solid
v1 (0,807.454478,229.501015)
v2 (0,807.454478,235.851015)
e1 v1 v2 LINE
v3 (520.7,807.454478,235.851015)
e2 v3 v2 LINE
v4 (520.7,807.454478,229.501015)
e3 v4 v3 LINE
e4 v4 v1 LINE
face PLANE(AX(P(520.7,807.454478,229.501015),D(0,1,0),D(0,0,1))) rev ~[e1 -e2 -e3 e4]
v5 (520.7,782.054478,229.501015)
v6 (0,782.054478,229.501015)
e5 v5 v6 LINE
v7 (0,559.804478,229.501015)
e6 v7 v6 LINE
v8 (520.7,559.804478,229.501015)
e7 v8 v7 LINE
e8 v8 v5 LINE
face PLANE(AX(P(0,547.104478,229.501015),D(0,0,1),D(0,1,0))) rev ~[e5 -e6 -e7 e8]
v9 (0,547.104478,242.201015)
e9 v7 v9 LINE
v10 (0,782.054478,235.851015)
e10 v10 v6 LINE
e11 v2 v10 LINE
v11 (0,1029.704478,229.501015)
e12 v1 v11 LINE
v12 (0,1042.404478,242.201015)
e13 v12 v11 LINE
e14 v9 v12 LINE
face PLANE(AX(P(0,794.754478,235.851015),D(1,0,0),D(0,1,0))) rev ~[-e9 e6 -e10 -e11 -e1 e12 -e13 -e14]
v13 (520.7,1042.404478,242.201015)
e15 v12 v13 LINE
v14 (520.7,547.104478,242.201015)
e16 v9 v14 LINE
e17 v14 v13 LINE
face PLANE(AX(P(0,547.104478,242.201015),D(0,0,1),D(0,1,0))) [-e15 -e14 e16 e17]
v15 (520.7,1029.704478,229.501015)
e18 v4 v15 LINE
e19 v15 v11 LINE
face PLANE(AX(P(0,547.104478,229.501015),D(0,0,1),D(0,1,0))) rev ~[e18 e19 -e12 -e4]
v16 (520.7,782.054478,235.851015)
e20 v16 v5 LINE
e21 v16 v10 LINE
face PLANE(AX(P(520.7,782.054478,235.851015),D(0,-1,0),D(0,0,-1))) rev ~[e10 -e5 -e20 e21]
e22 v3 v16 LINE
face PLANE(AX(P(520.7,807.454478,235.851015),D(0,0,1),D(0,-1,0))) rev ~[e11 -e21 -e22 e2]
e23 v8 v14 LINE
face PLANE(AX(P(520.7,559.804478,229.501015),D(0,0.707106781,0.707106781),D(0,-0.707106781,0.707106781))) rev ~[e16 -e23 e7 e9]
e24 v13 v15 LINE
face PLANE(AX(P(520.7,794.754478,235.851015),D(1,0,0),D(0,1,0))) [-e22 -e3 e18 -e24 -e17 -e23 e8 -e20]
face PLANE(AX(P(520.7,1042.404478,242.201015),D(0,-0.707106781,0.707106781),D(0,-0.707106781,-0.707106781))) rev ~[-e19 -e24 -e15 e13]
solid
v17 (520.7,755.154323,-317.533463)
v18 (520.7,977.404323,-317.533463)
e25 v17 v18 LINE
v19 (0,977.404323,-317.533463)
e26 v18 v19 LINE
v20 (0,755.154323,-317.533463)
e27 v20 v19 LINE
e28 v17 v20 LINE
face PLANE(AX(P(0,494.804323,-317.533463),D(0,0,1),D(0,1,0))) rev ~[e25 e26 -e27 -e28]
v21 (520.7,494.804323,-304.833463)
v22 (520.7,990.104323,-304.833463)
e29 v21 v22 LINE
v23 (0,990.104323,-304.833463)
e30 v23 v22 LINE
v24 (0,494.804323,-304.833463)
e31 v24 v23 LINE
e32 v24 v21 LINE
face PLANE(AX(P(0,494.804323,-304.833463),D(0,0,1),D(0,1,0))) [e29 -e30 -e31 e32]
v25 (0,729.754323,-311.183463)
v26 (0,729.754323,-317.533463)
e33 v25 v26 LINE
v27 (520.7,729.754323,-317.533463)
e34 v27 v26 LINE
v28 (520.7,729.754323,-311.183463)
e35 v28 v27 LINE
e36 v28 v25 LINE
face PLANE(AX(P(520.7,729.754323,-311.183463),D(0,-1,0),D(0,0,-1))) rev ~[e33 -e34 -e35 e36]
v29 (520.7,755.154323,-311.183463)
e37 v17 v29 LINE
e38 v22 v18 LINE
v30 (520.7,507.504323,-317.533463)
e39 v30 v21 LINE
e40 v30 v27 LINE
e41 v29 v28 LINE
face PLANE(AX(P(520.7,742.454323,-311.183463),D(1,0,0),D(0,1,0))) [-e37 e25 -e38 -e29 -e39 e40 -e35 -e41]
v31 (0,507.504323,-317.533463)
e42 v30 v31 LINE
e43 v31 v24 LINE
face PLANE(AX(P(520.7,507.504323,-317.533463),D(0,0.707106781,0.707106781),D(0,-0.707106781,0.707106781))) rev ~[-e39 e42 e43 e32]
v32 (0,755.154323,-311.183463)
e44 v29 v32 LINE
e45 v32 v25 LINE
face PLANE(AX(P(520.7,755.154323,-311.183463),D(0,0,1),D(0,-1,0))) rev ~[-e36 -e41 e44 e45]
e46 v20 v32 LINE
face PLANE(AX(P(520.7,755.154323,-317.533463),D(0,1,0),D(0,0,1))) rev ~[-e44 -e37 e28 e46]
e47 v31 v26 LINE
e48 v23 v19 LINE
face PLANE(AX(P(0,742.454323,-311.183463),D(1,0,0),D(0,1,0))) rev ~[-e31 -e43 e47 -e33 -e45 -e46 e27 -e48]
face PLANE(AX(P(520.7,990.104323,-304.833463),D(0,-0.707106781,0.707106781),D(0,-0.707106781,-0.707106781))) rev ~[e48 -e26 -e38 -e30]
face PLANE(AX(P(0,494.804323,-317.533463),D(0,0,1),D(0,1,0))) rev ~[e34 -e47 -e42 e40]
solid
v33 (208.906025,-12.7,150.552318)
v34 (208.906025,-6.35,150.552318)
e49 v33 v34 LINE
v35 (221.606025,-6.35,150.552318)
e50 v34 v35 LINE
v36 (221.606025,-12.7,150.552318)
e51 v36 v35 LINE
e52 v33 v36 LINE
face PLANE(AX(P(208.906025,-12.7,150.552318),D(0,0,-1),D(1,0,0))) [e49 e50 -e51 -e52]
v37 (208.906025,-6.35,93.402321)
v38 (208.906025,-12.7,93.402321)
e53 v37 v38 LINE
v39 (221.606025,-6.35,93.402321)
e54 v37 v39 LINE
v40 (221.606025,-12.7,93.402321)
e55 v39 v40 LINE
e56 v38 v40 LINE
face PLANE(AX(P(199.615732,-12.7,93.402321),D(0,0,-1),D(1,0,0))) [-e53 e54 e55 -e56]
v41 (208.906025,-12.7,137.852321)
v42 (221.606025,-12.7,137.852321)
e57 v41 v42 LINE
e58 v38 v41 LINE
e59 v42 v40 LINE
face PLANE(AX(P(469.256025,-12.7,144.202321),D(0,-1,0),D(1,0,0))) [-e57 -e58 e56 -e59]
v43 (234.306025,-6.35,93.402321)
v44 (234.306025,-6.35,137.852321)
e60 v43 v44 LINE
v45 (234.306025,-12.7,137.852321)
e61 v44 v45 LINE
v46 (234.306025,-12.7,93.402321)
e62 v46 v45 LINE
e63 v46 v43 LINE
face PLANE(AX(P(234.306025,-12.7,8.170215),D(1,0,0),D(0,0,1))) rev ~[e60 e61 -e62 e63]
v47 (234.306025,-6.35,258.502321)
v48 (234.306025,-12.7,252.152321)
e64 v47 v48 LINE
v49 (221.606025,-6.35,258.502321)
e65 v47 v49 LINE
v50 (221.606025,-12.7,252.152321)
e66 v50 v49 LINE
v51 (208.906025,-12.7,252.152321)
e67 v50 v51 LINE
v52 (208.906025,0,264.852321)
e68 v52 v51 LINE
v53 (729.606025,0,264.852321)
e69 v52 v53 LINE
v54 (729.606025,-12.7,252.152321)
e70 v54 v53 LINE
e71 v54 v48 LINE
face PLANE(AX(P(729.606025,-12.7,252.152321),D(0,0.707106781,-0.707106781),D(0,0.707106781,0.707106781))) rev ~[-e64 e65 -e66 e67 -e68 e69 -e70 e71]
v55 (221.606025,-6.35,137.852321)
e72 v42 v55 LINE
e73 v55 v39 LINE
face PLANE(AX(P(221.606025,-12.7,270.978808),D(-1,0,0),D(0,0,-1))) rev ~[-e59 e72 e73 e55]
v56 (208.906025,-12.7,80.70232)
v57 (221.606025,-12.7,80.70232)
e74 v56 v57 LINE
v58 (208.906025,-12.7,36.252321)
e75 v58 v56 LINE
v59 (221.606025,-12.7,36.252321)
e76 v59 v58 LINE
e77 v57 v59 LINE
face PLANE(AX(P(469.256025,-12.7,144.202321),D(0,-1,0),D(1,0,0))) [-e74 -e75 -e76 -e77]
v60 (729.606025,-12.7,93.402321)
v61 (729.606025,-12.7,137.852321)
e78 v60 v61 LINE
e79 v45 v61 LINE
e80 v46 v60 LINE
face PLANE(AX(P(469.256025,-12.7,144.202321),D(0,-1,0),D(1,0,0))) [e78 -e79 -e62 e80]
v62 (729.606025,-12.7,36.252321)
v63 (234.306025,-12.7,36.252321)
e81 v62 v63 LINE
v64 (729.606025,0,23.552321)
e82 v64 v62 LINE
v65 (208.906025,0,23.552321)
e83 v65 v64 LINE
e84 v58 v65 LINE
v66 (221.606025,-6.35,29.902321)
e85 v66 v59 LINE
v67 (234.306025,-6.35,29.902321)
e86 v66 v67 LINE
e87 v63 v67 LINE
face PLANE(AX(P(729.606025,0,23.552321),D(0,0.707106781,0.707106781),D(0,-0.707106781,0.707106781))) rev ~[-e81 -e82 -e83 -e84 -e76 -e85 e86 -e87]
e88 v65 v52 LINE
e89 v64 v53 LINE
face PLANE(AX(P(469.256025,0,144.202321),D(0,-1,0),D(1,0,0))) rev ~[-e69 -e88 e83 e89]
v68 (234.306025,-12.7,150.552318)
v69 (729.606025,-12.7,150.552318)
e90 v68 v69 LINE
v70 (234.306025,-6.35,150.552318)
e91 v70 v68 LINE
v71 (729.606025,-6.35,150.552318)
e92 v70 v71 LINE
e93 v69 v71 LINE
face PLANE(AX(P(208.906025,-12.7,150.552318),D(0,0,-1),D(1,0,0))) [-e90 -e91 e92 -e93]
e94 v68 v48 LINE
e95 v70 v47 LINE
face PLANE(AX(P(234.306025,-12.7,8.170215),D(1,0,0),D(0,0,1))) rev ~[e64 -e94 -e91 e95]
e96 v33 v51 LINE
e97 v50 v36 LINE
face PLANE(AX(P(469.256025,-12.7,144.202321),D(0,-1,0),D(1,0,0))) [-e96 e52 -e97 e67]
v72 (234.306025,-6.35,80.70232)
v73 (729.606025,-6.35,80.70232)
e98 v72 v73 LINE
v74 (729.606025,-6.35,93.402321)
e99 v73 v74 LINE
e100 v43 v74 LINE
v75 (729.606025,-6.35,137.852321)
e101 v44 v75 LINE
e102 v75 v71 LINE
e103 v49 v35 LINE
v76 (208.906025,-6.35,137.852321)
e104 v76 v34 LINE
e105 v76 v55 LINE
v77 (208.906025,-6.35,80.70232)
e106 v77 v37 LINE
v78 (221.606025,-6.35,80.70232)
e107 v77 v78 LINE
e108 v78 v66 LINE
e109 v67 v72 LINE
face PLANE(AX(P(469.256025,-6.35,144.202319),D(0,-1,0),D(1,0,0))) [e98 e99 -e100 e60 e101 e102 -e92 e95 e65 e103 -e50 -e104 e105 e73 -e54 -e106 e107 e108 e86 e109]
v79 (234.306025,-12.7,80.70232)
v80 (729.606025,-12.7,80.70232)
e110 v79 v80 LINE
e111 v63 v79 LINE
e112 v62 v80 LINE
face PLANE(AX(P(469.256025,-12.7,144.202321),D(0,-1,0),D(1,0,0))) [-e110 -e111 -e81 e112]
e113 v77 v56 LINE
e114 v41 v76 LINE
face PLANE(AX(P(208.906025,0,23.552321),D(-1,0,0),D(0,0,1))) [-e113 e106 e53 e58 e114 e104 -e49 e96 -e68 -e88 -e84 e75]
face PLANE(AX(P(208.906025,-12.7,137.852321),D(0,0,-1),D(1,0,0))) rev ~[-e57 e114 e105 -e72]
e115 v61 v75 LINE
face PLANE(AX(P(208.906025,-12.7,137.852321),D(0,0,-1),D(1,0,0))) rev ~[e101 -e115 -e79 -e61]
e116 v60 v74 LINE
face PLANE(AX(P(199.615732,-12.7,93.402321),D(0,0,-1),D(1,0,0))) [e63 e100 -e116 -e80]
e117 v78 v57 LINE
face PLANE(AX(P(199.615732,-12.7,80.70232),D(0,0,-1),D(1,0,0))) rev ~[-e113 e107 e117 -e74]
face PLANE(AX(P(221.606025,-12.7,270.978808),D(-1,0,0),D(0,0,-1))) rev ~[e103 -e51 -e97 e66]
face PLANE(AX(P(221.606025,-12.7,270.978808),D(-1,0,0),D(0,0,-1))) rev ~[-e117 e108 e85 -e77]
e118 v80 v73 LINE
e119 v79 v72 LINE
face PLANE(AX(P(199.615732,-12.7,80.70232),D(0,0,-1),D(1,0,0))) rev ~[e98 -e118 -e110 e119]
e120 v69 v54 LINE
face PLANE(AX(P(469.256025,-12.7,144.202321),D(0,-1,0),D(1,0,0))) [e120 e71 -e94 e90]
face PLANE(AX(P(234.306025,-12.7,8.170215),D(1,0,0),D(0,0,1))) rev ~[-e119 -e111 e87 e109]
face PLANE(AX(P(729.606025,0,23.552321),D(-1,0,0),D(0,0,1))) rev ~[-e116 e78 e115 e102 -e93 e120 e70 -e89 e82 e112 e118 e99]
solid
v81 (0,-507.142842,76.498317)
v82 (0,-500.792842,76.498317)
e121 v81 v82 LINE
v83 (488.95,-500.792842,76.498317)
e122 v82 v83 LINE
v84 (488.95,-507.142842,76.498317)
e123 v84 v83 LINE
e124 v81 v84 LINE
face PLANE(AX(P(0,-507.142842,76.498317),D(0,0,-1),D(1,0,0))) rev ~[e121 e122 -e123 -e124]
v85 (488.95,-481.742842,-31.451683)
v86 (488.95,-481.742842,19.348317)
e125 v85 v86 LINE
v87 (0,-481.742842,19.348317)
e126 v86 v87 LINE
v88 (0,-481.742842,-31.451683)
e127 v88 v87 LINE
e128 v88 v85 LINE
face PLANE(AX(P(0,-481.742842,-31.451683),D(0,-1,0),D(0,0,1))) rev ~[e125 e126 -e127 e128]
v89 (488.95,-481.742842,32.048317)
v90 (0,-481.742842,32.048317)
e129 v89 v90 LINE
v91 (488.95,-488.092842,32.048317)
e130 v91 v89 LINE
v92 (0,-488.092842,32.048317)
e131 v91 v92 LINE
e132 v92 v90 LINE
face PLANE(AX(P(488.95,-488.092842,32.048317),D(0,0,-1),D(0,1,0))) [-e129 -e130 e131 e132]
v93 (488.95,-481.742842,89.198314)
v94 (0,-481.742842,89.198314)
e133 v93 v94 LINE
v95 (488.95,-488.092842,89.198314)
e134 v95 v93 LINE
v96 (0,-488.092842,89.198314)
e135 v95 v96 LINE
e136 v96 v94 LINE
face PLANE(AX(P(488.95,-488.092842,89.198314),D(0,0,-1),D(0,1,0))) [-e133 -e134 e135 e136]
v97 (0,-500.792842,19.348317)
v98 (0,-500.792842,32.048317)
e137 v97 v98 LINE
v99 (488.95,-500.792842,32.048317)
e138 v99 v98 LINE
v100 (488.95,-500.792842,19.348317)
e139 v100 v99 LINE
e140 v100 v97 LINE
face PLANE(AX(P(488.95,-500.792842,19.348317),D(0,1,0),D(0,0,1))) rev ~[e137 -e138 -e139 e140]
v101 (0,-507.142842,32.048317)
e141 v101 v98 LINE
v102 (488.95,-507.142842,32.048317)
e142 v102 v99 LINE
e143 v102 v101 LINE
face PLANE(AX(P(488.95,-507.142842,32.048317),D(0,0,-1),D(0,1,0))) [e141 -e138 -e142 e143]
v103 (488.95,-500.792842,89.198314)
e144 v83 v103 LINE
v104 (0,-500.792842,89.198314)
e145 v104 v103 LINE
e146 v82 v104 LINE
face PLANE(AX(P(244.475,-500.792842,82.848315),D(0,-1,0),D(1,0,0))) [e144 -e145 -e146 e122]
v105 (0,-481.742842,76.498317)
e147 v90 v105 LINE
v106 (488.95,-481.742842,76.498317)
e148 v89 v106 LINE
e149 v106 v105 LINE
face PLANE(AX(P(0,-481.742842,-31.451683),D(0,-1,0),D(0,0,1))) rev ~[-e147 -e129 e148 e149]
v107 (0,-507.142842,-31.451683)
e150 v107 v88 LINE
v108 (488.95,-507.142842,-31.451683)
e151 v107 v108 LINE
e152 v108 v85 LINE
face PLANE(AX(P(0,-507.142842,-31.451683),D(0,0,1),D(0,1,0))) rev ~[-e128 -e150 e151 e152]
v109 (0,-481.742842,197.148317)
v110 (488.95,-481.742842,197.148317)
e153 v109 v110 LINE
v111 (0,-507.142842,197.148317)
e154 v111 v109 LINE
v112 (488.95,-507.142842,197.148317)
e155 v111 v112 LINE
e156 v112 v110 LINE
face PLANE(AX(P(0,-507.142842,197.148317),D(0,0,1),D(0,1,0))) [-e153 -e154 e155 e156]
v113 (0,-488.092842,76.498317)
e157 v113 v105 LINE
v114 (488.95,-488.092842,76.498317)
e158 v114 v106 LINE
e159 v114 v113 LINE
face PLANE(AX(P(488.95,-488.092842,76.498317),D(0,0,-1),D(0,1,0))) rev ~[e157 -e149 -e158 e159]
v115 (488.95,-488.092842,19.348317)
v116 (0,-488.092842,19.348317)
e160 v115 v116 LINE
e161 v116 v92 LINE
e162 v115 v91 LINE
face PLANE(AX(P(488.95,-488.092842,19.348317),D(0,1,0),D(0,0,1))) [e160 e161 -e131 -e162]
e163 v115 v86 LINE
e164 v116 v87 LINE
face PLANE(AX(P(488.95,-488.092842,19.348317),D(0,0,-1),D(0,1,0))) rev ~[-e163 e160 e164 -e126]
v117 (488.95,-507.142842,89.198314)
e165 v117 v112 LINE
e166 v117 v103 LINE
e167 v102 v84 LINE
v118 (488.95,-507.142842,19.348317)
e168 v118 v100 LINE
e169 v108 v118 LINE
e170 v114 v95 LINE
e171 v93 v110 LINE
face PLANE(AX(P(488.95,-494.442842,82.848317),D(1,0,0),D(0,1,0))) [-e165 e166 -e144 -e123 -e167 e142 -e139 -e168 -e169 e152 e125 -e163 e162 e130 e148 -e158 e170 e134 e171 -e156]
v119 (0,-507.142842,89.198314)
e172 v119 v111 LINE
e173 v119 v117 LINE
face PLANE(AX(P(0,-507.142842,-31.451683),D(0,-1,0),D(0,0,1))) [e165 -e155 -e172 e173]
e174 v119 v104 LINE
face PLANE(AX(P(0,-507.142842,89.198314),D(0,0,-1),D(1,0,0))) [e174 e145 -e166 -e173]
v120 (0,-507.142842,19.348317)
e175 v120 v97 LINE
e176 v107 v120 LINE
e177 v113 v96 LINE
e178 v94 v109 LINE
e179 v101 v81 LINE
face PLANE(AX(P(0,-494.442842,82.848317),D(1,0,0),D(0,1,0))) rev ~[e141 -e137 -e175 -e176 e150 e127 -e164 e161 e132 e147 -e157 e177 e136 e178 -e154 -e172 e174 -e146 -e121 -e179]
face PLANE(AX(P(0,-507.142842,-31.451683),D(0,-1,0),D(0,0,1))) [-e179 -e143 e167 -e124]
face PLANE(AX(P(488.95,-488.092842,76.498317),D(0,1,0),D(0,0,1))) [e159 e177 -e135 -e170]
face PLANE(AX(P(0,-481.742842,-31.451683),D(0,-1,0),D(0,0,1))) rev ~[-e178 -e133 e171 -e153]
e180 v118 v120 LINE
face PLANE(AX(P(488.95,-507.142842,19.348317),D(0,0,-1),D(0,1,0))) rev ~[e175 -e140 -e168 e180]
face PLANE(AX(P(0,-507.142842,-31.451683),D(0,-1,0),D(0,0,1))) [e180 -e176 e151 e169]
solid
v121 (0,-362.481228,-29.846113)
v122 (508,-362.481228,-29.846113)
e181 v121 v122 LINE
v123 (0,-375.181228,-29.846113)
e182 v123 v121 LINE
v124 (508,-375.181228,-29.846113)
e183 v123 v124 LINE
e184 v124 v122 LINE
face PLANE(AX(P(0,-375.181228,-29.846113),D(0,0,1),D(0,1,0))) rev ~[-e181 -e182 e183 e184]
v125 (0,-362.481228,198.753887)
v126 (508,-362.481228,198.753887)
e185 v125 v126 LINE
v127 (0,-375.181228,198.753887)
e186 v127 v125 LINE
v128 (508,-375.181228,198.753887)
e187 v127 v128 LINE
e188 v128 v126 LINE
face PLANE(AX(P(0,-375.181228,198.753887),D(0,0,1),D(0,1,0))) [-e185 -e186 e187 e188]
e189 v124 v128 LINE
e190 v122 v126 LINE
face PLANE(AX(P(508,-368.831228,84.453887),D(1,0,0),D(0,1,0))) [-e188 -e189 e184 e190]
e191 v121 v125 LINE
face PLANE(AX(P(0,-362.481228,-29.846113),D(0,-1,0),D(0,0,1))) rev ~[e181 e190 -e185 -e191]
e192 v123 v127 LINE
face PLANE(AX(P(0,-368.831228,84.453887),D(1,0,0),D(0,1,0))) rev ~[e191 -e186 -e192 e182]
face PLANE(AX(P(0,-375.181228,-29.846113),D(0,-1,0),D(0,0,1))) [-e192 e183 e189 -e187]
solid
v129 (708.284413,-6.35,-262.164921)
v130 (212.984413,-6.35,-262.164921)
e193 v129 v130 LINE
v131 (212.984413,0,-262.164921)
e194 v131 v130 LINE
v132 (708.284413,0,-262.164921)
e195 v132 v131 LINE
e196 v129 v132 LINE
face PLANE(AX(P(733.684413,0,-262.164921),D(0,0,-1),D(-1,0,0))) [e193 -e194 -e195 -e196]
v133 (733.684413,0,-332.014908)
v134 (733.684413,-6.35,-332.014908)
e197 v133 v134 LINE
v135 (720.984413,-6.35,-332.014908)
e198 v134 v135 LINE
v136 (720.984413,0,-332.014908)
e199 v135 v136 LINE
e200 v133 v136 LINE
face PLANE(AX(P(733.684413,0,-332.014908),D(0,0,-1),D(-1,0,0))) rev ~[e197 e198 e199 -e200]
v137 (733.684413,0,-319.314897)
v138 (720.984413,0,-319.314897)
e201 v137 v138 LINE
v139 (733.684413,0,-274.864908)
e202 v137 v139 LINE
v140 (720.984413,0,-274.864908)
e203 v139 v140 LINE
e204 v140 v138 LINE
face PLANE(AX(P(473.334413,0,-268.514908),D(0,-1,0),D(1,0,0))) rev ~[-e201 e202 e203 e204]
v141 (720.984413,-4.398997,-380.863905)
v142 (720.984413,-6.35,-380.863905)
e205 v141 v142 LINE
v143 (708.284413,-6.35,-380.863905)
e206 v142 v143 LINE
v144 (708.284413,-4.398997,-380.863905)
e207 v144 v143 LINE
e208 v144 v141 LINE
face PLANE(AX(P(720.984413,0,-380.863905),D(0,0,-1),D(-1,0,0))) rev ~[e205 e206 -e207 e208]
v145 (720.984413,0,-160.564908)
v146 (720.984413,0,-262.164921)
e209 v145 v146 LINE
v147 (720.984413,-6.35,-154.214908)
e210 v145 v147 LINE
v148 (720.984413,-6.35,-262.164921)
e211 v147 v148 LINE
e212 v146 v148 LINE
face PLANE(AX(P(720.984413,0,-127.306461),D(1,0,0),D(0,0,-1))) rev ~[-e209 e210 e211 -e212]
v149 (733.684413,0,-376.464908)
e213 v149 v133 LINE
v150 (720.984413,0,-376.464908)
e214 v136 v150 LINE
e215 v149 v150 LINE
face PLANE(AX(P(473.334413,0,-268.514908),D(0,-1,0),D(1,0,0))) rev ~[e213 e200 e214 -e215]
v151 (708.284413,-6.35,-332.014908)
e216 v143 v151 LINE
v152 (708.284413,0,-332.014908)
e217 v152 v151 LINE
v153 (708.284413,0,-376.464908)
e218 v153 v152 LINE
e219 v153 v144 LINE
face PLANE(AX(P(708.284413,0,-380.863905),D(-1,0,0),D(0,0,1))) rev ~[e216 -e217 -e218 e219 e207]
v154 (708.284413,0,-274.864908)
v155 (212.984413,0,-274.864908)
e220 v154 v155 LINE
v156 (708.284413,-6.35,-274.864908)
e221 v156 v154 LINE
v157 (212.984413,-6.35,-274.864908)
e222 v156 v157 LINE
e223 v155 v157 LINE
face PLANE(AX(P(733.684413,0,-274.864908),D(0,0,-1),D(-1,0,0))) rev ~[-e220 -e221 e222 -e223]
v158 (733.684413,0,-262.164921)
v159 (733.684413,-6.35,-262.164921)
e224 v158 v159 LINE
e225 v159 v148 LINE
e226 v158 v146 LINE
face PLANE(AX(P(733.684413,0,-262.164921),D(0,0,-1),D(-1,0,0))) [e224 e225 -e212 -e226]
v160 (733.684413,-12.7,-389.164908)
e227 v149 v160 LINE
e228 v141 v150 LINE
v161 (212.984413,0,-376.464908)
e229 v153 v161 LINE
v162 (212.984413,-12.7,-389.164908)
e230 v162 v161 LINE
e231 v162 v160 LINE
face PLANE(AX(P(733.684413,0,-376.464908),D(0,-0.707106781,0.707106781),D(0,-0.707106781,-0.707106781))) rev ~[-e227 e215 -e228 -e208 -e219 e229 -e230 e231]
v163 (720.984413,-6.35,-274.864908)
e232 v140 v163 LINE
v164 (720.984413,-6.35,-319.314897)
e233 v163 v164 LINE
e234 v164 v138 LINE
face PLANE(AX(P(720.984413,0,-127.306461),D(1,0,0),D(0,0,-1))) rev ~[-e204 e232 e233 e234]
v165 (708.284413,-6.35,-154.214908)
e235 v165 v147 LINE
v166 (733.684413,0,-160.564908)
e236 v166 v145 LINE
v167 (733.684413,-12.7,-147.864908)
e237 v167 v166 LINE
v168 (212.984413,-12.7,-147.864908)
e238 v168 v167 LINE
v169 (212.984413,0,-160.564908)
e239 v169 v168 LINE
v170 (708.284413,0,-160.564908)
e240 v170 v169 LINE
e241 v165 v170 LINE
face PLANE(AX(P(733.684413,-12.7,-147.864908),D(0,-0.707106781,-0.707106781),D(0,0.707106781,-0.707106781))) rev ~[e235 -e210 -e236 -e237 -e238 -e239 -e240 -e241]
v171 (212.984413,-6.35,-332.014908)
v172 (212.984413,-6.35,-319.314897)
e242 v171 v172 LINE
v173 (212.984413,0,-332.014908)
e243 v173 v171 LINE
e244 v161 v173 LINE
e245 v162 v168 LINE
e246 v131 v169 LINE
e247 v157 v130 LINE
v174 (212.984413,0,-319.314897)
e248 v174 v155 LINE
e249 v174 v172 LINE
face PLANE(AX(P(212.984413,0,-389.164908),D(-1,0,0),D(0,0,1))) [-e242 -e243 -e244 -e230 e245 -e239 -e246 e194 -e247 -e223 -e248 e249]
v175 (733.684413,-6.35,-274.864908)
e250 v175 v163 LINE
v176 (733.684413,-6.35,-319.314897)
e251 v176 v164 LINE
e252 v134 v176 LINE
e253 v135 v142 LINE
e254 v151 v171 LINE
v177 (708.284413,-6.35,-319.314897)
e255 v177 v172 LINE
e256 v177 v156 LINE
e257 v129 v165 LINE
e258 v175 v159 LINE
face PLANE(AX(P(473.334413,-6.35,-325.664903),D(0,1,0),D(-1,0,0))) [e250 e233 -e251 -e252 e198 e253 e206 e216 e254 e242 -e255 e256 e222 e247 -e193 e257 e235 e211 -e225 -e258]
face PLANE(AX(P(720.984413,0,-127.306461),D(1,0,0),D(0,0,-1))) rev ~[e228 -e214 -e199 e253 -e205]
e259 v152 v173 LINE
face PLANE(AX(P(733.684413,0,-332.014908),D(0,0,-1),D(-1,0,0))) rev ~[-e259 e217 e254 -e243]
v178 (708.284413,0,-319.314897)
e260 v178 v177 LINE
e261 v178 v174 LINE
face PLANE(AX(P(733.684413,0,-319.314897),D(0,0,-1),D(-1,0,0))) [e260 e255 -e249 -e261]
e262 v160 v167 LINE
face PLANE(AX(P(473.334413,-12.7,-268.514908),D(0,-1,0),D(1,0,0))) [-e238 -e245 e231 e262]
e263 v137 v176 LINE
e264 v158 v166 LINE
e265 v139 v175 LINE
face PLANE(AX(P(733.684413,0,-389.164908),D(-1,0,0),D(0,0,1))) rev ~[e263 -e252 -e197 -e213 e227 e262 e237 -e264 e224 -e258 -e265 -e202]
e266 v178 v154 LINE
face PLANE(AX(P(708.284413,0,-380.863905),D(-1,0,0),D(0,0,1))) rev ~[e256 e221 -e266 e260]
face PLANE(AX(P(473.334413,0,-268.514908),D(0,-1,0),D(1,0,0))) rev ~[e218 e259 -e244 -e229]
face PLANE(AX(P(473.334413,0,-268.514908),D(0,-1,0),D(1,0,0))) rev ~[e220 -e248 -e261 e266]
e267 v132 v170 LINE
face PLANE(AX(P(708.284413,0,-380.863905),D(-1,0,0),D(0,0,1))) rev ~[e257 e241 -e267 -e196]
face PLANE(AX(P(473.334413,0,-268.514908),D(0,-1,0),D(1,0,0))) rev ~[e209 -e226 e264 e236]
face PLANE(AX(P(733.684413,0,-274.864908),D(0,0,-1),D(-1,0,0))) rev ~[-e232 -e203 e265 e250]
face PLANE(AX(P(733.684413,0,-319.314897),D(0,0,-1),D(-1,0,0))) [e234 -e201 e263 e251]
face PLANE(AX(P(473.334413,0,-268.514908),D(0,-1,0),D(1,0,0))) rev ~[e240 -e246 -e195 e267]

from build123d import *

# Parameters (mm, degrees)
F0_W      = 520.7
F0_H      = 241.3
F1_DEPTH  = 12.7
F3_DEPTH  = 520.701
F4_W      = 520.7
F4_H      = 12.6999966025
F5_DEPTH  = 6.35
F7_DEPTH  = 6.35
F8_W      = 520.7
F8_H      = 241.3
F9_DEPTH  = 12.7
F11_DEPTH = 524.7793882141
F12_W     = 520.7
F12_H     = 12.6999874115
F13_DEPTH = 6.35
F15_DEPTH = 6.35
F16_W     = 520.7
F16_H     = 12.7000109196
F17_DEPTH = 6.35
F18_W     = 529.9902928591
F18_H     = 12.7000011563
F19_DEPTH = 6.35
F20_W     = 25.4
F20_H     = 228.6
F21_DEPTH = 488.95
F22_W     = 488.95
F22_H     = 12.6999971449
F23_DEPTH = 6.35
F24_W     = 6.35
F24_H     = 12.6999971449
F25_DEPTH = 488.951
F26_W     = 6.35
F26_H     = 12.7
F27_DEPTH = 488.951
F28_W     = 495.3
F28_H     = 12.7
F29_DEPTH = 520.7
F31_DEPTH = 520.701
F33_DEPTH = 520.701
F34_W     = 495.3
F34_H     = 12.7
F35_DEPTH = 520.7
F37_DEPTH = 520.701
F39_DEPTH = 520.701
F40_W     = 12.7
F40_H     = 228.6
F41_DEPTH = 508


with BuildPart() as f1:
    # F0 (on Front) → F1 (new body)
    with BuildSketch(Plane.XZ):
        with Locations((469.2560246944, 144.2023208976)):
            Rectangle(F0_W, F0_H)
    extrude(amount=F1_DEPTH)

    # F2 (on face) → F3 (cut, through all)
    with BuildSketch(Plane.YZ.offset(729.6060246944)):
        Polygon((0, 23.5523208976), (-12.7, 36.2523208976), (-12.7, 23.5523208976), align=None)
        Polygon((-12.7, 264.8523208976), (-12.7, 252.1523208976), (0, 264.8523208976), align=None)
    extrude(amount=-F3_DEPTH, mode=Mode.SUBTRACT)

    # F4 (on face) → F5 (cut)
    with BuildSketch(Plane.XZ.offset(12.7)):
        with Locations((469.2560246944, 144.2023191988)):
            Rectangle(F4_W, F4_H)
    extrude(amount=-F5_DEPTH, mode=Mode.SUBTRACT)

    # F6 (on face) → F7 (cut)
    with BuildSketch(Plane.XZ.offset(12.7)):
        Polygon((221.6060246944, 270.978808403), (221.6060246944, 137.8523208976), (221.6060246944, 8.170215413), (234.3060246944, 8.170215413), (234.3060246944, 264.8905813694), align=None)
    extrude(amount=-F7_DEPTH, mode=Mode.SUBTRACT)

    # F18 (on face) → F19 (cut)
    with BuildSketch(Plane.XZ.offset(12.7)):
        with Locations((464.6108782649, 87.0523203194)):
            Rectangle(F18_W, F18_H)
    extrude(amount=-F19_DEPTH, mode=Mode.SUBTRACT)


with BuildPart() as f9:
    # F8 (on Front) → F9 (new body)
    with BuildSketch(Plane.XZ):
        with Locations((473.3344129086, -268.51490798)):
            Rectangle(F8_W, F8_H)
    extrude(amount=F9_DEPTH)

    # F10 (on face) → F11 (cut, through all)
    with BuildSketch(Plane.YZ.offset(733.6844129086)):
        Polygon((-12.7, -147.86490798), (0, -160.56490798), (0, -147.86490798), align=None)
        Polygon((0, -389.16490798), (0, -376.46490798), (-12.7, -389.16490798), align=None)
    extrude(amount=-F11_DEPTH, mode=Mode.SUBTRACT)

    # F12 (on face) → F13 (cut)
    with BuildSketch(Plane(origin=(0, 0, 0), x_dir=(-1, 0, 0), z_dir=(0, 1, 0))):
        with Locations((-473.3344129086, -268.5149142742)):
            Rectangle(F12_W, F12_H)
    extrude(amount=-F13_DEPTH, mode=Mode.SUBTRACT)

    # F14 (on face) → F15 (cut)
    with BuildSketch(Plane(origin=(0, 0, 0), x_dir=(-1, 0, 0), z_dir=(0, 1, 0))):
        Polygon((-720.9844129086, -249.4649205685), (-720.9844129086, -262.1649205685), (-720.9844129086, -380.863904953), (-708.2844129086, -380.863904953), (-708.2844129086, -127.3064613342), (-720.9844129086, -127.3064613342), align=None)
    extrude(amount=-F15_DEPTH, mode=Mode.SUBTRACT)

    # F16 (on face) → F17 (cut)
    with BuildSketch(Plane(origin=(0, 0, 0), x_dir=(-1, 0, 0), z_dir=(0, 1, 0))):
        with Locations((-473.3344129086, -325.6649025202)):
            Rectangle(F16_W, F16_H)
    extrude(amount=-F17_DEPTH, mode=Mode.SUBTRACT)


with BuildPart() as f21:
    # F20 (on Right) → F21 (new body)
    with BuildSketch(Plane.YZ):
        with Locations((-494.4428418159, 82.8483165085)):
            Rectangle(F20_W, F20_H)
    extrude(amount=F21_DEPTH)

    # F22 (on face) → F23 (cut)
    with BuildSketch(Plane.XZ.offset(507.1428418159)):
        with Locations((244.475, 82.848315081)):
            Rectangle(F22_W, F22_H)
    extrude(amount=-F23_DEPTH, mode=Mode.SUBTRACT)

    # F24 (on face) → F25 (cut, through all)
    with BuildSketch(Plane.YZ.offset(488.95)):
        with Locations((-484.9178418159, 82.848315081)):
            Rectangle(F24_W, F24_H)
    extrude(amount=-F25_DEPTH, mode=Mode.SUBTRACT)

    # F26 (on face) → F27 (cut, through all)
    with BuildSketch(Plane.YZ.offset(488.95)):
        with Locations((-503.9678418159, 25.6983165085)):
            Rectangle(F26_W, F26_H)
        with Locations((-484.9178418159, 25.6983165085)):
            Rectangle(F26_W, F26_H)
    extrude(amount=-F27_DEPTH, mode=Mode.SUBTRACT)


with BuildPart() as f29:
    # F28 (on Right) → F29 (new body)
    with BuildSketch(Plane.YZ):
        with Locations((794.7544778824, 235.8510153532)):
            Rectangle(F28_W, F28_H)
    extrude(amount=F29_DEPTH)

    # F30 (on face) → F31 (cut, through all)
    with BuildSketch(Plane.YZ.offset(520.7)):
        Polygon((559.8044778824, 229.5010153532), (547.1044778824, 242.2010153532), (547.1044778824, 229.5010153532), align=None)
        Polygon((1042.4044778824, 242.2010153532), (1029.7044778824, 229.5010153532), (1042.4044778824, 229.5010153532), align=None)
    extrude(amount=-F31_DEPTH, mode=Mode.SUBTRACT)

    # F32 (on face) → F33 (cut, through all)
    with BuildSketch(Plane.YZ.offset(520.7)):
        Polygon((782.0544778824, 229.5010153532), (794.7544778824, 229.5010153532), (807.4544778824, 229.5010153532), (807.4544778824, 235.8510153532), (782.0544778824, 235.8510153532), align=None)
    extrude(amount=-F33_DEPTH, mode=Mode.SUBTRACT)


with BuildPart() as f35:
    # F34 (on Right) → F35 (new body)
    with BuildSketch(Plane.YZ):
        with Locations((742.4543227196, -311.1834632397)):
            Rectangle(F34_W, F34_H)
    extrude(amount=F35_DEPTH)

    # F36 (on face) → F37 (cut, through all)
    with BuildSketch(Plane.YZ.offset(520.7)):
        Polygon((494.8043227196, -304.8334632397), (494.8043227196, -317.5334632397), (507.5043227196, -317.5334632397), align=None)
        Polygon((990.1043227196, -304.8334632397), (977.4043227196, -317.5334632397), (990.1043227196, -317.5334632397), align=None)
    extrude(amount=-F37_DEPTH, mode=Mode.SUBTRACT)

    # F38 (on face) → F39 (cut, through all)
    with BuildSketch(Plane.YZ.offset(520.7)):
        Polygon((729.7543227196, -317.5334632397), (742.4543227196, -317.5334632397), (755.1543227196, -317.5334632397), (755.1543227196, -311.1834632397), (729.7543227196, -311.1834632397), align=None)
    extrude(amount=-F39_DEPTH, mode=Mode.SUBTRACT)


with BuildPart() as f41:
    # F40 (on Right) → F41 (new body)
    with BuildSketch(Plane.YZ):
        with Locations((-368.8312279224, 84.4538868248)):
            Rectangle(F40_W, F40_H)
    extrude(amount=F41_DEPTH)


solid = Compound([f1.part, f9.part, f21.part, f29.part, f35.part, f41.part])
